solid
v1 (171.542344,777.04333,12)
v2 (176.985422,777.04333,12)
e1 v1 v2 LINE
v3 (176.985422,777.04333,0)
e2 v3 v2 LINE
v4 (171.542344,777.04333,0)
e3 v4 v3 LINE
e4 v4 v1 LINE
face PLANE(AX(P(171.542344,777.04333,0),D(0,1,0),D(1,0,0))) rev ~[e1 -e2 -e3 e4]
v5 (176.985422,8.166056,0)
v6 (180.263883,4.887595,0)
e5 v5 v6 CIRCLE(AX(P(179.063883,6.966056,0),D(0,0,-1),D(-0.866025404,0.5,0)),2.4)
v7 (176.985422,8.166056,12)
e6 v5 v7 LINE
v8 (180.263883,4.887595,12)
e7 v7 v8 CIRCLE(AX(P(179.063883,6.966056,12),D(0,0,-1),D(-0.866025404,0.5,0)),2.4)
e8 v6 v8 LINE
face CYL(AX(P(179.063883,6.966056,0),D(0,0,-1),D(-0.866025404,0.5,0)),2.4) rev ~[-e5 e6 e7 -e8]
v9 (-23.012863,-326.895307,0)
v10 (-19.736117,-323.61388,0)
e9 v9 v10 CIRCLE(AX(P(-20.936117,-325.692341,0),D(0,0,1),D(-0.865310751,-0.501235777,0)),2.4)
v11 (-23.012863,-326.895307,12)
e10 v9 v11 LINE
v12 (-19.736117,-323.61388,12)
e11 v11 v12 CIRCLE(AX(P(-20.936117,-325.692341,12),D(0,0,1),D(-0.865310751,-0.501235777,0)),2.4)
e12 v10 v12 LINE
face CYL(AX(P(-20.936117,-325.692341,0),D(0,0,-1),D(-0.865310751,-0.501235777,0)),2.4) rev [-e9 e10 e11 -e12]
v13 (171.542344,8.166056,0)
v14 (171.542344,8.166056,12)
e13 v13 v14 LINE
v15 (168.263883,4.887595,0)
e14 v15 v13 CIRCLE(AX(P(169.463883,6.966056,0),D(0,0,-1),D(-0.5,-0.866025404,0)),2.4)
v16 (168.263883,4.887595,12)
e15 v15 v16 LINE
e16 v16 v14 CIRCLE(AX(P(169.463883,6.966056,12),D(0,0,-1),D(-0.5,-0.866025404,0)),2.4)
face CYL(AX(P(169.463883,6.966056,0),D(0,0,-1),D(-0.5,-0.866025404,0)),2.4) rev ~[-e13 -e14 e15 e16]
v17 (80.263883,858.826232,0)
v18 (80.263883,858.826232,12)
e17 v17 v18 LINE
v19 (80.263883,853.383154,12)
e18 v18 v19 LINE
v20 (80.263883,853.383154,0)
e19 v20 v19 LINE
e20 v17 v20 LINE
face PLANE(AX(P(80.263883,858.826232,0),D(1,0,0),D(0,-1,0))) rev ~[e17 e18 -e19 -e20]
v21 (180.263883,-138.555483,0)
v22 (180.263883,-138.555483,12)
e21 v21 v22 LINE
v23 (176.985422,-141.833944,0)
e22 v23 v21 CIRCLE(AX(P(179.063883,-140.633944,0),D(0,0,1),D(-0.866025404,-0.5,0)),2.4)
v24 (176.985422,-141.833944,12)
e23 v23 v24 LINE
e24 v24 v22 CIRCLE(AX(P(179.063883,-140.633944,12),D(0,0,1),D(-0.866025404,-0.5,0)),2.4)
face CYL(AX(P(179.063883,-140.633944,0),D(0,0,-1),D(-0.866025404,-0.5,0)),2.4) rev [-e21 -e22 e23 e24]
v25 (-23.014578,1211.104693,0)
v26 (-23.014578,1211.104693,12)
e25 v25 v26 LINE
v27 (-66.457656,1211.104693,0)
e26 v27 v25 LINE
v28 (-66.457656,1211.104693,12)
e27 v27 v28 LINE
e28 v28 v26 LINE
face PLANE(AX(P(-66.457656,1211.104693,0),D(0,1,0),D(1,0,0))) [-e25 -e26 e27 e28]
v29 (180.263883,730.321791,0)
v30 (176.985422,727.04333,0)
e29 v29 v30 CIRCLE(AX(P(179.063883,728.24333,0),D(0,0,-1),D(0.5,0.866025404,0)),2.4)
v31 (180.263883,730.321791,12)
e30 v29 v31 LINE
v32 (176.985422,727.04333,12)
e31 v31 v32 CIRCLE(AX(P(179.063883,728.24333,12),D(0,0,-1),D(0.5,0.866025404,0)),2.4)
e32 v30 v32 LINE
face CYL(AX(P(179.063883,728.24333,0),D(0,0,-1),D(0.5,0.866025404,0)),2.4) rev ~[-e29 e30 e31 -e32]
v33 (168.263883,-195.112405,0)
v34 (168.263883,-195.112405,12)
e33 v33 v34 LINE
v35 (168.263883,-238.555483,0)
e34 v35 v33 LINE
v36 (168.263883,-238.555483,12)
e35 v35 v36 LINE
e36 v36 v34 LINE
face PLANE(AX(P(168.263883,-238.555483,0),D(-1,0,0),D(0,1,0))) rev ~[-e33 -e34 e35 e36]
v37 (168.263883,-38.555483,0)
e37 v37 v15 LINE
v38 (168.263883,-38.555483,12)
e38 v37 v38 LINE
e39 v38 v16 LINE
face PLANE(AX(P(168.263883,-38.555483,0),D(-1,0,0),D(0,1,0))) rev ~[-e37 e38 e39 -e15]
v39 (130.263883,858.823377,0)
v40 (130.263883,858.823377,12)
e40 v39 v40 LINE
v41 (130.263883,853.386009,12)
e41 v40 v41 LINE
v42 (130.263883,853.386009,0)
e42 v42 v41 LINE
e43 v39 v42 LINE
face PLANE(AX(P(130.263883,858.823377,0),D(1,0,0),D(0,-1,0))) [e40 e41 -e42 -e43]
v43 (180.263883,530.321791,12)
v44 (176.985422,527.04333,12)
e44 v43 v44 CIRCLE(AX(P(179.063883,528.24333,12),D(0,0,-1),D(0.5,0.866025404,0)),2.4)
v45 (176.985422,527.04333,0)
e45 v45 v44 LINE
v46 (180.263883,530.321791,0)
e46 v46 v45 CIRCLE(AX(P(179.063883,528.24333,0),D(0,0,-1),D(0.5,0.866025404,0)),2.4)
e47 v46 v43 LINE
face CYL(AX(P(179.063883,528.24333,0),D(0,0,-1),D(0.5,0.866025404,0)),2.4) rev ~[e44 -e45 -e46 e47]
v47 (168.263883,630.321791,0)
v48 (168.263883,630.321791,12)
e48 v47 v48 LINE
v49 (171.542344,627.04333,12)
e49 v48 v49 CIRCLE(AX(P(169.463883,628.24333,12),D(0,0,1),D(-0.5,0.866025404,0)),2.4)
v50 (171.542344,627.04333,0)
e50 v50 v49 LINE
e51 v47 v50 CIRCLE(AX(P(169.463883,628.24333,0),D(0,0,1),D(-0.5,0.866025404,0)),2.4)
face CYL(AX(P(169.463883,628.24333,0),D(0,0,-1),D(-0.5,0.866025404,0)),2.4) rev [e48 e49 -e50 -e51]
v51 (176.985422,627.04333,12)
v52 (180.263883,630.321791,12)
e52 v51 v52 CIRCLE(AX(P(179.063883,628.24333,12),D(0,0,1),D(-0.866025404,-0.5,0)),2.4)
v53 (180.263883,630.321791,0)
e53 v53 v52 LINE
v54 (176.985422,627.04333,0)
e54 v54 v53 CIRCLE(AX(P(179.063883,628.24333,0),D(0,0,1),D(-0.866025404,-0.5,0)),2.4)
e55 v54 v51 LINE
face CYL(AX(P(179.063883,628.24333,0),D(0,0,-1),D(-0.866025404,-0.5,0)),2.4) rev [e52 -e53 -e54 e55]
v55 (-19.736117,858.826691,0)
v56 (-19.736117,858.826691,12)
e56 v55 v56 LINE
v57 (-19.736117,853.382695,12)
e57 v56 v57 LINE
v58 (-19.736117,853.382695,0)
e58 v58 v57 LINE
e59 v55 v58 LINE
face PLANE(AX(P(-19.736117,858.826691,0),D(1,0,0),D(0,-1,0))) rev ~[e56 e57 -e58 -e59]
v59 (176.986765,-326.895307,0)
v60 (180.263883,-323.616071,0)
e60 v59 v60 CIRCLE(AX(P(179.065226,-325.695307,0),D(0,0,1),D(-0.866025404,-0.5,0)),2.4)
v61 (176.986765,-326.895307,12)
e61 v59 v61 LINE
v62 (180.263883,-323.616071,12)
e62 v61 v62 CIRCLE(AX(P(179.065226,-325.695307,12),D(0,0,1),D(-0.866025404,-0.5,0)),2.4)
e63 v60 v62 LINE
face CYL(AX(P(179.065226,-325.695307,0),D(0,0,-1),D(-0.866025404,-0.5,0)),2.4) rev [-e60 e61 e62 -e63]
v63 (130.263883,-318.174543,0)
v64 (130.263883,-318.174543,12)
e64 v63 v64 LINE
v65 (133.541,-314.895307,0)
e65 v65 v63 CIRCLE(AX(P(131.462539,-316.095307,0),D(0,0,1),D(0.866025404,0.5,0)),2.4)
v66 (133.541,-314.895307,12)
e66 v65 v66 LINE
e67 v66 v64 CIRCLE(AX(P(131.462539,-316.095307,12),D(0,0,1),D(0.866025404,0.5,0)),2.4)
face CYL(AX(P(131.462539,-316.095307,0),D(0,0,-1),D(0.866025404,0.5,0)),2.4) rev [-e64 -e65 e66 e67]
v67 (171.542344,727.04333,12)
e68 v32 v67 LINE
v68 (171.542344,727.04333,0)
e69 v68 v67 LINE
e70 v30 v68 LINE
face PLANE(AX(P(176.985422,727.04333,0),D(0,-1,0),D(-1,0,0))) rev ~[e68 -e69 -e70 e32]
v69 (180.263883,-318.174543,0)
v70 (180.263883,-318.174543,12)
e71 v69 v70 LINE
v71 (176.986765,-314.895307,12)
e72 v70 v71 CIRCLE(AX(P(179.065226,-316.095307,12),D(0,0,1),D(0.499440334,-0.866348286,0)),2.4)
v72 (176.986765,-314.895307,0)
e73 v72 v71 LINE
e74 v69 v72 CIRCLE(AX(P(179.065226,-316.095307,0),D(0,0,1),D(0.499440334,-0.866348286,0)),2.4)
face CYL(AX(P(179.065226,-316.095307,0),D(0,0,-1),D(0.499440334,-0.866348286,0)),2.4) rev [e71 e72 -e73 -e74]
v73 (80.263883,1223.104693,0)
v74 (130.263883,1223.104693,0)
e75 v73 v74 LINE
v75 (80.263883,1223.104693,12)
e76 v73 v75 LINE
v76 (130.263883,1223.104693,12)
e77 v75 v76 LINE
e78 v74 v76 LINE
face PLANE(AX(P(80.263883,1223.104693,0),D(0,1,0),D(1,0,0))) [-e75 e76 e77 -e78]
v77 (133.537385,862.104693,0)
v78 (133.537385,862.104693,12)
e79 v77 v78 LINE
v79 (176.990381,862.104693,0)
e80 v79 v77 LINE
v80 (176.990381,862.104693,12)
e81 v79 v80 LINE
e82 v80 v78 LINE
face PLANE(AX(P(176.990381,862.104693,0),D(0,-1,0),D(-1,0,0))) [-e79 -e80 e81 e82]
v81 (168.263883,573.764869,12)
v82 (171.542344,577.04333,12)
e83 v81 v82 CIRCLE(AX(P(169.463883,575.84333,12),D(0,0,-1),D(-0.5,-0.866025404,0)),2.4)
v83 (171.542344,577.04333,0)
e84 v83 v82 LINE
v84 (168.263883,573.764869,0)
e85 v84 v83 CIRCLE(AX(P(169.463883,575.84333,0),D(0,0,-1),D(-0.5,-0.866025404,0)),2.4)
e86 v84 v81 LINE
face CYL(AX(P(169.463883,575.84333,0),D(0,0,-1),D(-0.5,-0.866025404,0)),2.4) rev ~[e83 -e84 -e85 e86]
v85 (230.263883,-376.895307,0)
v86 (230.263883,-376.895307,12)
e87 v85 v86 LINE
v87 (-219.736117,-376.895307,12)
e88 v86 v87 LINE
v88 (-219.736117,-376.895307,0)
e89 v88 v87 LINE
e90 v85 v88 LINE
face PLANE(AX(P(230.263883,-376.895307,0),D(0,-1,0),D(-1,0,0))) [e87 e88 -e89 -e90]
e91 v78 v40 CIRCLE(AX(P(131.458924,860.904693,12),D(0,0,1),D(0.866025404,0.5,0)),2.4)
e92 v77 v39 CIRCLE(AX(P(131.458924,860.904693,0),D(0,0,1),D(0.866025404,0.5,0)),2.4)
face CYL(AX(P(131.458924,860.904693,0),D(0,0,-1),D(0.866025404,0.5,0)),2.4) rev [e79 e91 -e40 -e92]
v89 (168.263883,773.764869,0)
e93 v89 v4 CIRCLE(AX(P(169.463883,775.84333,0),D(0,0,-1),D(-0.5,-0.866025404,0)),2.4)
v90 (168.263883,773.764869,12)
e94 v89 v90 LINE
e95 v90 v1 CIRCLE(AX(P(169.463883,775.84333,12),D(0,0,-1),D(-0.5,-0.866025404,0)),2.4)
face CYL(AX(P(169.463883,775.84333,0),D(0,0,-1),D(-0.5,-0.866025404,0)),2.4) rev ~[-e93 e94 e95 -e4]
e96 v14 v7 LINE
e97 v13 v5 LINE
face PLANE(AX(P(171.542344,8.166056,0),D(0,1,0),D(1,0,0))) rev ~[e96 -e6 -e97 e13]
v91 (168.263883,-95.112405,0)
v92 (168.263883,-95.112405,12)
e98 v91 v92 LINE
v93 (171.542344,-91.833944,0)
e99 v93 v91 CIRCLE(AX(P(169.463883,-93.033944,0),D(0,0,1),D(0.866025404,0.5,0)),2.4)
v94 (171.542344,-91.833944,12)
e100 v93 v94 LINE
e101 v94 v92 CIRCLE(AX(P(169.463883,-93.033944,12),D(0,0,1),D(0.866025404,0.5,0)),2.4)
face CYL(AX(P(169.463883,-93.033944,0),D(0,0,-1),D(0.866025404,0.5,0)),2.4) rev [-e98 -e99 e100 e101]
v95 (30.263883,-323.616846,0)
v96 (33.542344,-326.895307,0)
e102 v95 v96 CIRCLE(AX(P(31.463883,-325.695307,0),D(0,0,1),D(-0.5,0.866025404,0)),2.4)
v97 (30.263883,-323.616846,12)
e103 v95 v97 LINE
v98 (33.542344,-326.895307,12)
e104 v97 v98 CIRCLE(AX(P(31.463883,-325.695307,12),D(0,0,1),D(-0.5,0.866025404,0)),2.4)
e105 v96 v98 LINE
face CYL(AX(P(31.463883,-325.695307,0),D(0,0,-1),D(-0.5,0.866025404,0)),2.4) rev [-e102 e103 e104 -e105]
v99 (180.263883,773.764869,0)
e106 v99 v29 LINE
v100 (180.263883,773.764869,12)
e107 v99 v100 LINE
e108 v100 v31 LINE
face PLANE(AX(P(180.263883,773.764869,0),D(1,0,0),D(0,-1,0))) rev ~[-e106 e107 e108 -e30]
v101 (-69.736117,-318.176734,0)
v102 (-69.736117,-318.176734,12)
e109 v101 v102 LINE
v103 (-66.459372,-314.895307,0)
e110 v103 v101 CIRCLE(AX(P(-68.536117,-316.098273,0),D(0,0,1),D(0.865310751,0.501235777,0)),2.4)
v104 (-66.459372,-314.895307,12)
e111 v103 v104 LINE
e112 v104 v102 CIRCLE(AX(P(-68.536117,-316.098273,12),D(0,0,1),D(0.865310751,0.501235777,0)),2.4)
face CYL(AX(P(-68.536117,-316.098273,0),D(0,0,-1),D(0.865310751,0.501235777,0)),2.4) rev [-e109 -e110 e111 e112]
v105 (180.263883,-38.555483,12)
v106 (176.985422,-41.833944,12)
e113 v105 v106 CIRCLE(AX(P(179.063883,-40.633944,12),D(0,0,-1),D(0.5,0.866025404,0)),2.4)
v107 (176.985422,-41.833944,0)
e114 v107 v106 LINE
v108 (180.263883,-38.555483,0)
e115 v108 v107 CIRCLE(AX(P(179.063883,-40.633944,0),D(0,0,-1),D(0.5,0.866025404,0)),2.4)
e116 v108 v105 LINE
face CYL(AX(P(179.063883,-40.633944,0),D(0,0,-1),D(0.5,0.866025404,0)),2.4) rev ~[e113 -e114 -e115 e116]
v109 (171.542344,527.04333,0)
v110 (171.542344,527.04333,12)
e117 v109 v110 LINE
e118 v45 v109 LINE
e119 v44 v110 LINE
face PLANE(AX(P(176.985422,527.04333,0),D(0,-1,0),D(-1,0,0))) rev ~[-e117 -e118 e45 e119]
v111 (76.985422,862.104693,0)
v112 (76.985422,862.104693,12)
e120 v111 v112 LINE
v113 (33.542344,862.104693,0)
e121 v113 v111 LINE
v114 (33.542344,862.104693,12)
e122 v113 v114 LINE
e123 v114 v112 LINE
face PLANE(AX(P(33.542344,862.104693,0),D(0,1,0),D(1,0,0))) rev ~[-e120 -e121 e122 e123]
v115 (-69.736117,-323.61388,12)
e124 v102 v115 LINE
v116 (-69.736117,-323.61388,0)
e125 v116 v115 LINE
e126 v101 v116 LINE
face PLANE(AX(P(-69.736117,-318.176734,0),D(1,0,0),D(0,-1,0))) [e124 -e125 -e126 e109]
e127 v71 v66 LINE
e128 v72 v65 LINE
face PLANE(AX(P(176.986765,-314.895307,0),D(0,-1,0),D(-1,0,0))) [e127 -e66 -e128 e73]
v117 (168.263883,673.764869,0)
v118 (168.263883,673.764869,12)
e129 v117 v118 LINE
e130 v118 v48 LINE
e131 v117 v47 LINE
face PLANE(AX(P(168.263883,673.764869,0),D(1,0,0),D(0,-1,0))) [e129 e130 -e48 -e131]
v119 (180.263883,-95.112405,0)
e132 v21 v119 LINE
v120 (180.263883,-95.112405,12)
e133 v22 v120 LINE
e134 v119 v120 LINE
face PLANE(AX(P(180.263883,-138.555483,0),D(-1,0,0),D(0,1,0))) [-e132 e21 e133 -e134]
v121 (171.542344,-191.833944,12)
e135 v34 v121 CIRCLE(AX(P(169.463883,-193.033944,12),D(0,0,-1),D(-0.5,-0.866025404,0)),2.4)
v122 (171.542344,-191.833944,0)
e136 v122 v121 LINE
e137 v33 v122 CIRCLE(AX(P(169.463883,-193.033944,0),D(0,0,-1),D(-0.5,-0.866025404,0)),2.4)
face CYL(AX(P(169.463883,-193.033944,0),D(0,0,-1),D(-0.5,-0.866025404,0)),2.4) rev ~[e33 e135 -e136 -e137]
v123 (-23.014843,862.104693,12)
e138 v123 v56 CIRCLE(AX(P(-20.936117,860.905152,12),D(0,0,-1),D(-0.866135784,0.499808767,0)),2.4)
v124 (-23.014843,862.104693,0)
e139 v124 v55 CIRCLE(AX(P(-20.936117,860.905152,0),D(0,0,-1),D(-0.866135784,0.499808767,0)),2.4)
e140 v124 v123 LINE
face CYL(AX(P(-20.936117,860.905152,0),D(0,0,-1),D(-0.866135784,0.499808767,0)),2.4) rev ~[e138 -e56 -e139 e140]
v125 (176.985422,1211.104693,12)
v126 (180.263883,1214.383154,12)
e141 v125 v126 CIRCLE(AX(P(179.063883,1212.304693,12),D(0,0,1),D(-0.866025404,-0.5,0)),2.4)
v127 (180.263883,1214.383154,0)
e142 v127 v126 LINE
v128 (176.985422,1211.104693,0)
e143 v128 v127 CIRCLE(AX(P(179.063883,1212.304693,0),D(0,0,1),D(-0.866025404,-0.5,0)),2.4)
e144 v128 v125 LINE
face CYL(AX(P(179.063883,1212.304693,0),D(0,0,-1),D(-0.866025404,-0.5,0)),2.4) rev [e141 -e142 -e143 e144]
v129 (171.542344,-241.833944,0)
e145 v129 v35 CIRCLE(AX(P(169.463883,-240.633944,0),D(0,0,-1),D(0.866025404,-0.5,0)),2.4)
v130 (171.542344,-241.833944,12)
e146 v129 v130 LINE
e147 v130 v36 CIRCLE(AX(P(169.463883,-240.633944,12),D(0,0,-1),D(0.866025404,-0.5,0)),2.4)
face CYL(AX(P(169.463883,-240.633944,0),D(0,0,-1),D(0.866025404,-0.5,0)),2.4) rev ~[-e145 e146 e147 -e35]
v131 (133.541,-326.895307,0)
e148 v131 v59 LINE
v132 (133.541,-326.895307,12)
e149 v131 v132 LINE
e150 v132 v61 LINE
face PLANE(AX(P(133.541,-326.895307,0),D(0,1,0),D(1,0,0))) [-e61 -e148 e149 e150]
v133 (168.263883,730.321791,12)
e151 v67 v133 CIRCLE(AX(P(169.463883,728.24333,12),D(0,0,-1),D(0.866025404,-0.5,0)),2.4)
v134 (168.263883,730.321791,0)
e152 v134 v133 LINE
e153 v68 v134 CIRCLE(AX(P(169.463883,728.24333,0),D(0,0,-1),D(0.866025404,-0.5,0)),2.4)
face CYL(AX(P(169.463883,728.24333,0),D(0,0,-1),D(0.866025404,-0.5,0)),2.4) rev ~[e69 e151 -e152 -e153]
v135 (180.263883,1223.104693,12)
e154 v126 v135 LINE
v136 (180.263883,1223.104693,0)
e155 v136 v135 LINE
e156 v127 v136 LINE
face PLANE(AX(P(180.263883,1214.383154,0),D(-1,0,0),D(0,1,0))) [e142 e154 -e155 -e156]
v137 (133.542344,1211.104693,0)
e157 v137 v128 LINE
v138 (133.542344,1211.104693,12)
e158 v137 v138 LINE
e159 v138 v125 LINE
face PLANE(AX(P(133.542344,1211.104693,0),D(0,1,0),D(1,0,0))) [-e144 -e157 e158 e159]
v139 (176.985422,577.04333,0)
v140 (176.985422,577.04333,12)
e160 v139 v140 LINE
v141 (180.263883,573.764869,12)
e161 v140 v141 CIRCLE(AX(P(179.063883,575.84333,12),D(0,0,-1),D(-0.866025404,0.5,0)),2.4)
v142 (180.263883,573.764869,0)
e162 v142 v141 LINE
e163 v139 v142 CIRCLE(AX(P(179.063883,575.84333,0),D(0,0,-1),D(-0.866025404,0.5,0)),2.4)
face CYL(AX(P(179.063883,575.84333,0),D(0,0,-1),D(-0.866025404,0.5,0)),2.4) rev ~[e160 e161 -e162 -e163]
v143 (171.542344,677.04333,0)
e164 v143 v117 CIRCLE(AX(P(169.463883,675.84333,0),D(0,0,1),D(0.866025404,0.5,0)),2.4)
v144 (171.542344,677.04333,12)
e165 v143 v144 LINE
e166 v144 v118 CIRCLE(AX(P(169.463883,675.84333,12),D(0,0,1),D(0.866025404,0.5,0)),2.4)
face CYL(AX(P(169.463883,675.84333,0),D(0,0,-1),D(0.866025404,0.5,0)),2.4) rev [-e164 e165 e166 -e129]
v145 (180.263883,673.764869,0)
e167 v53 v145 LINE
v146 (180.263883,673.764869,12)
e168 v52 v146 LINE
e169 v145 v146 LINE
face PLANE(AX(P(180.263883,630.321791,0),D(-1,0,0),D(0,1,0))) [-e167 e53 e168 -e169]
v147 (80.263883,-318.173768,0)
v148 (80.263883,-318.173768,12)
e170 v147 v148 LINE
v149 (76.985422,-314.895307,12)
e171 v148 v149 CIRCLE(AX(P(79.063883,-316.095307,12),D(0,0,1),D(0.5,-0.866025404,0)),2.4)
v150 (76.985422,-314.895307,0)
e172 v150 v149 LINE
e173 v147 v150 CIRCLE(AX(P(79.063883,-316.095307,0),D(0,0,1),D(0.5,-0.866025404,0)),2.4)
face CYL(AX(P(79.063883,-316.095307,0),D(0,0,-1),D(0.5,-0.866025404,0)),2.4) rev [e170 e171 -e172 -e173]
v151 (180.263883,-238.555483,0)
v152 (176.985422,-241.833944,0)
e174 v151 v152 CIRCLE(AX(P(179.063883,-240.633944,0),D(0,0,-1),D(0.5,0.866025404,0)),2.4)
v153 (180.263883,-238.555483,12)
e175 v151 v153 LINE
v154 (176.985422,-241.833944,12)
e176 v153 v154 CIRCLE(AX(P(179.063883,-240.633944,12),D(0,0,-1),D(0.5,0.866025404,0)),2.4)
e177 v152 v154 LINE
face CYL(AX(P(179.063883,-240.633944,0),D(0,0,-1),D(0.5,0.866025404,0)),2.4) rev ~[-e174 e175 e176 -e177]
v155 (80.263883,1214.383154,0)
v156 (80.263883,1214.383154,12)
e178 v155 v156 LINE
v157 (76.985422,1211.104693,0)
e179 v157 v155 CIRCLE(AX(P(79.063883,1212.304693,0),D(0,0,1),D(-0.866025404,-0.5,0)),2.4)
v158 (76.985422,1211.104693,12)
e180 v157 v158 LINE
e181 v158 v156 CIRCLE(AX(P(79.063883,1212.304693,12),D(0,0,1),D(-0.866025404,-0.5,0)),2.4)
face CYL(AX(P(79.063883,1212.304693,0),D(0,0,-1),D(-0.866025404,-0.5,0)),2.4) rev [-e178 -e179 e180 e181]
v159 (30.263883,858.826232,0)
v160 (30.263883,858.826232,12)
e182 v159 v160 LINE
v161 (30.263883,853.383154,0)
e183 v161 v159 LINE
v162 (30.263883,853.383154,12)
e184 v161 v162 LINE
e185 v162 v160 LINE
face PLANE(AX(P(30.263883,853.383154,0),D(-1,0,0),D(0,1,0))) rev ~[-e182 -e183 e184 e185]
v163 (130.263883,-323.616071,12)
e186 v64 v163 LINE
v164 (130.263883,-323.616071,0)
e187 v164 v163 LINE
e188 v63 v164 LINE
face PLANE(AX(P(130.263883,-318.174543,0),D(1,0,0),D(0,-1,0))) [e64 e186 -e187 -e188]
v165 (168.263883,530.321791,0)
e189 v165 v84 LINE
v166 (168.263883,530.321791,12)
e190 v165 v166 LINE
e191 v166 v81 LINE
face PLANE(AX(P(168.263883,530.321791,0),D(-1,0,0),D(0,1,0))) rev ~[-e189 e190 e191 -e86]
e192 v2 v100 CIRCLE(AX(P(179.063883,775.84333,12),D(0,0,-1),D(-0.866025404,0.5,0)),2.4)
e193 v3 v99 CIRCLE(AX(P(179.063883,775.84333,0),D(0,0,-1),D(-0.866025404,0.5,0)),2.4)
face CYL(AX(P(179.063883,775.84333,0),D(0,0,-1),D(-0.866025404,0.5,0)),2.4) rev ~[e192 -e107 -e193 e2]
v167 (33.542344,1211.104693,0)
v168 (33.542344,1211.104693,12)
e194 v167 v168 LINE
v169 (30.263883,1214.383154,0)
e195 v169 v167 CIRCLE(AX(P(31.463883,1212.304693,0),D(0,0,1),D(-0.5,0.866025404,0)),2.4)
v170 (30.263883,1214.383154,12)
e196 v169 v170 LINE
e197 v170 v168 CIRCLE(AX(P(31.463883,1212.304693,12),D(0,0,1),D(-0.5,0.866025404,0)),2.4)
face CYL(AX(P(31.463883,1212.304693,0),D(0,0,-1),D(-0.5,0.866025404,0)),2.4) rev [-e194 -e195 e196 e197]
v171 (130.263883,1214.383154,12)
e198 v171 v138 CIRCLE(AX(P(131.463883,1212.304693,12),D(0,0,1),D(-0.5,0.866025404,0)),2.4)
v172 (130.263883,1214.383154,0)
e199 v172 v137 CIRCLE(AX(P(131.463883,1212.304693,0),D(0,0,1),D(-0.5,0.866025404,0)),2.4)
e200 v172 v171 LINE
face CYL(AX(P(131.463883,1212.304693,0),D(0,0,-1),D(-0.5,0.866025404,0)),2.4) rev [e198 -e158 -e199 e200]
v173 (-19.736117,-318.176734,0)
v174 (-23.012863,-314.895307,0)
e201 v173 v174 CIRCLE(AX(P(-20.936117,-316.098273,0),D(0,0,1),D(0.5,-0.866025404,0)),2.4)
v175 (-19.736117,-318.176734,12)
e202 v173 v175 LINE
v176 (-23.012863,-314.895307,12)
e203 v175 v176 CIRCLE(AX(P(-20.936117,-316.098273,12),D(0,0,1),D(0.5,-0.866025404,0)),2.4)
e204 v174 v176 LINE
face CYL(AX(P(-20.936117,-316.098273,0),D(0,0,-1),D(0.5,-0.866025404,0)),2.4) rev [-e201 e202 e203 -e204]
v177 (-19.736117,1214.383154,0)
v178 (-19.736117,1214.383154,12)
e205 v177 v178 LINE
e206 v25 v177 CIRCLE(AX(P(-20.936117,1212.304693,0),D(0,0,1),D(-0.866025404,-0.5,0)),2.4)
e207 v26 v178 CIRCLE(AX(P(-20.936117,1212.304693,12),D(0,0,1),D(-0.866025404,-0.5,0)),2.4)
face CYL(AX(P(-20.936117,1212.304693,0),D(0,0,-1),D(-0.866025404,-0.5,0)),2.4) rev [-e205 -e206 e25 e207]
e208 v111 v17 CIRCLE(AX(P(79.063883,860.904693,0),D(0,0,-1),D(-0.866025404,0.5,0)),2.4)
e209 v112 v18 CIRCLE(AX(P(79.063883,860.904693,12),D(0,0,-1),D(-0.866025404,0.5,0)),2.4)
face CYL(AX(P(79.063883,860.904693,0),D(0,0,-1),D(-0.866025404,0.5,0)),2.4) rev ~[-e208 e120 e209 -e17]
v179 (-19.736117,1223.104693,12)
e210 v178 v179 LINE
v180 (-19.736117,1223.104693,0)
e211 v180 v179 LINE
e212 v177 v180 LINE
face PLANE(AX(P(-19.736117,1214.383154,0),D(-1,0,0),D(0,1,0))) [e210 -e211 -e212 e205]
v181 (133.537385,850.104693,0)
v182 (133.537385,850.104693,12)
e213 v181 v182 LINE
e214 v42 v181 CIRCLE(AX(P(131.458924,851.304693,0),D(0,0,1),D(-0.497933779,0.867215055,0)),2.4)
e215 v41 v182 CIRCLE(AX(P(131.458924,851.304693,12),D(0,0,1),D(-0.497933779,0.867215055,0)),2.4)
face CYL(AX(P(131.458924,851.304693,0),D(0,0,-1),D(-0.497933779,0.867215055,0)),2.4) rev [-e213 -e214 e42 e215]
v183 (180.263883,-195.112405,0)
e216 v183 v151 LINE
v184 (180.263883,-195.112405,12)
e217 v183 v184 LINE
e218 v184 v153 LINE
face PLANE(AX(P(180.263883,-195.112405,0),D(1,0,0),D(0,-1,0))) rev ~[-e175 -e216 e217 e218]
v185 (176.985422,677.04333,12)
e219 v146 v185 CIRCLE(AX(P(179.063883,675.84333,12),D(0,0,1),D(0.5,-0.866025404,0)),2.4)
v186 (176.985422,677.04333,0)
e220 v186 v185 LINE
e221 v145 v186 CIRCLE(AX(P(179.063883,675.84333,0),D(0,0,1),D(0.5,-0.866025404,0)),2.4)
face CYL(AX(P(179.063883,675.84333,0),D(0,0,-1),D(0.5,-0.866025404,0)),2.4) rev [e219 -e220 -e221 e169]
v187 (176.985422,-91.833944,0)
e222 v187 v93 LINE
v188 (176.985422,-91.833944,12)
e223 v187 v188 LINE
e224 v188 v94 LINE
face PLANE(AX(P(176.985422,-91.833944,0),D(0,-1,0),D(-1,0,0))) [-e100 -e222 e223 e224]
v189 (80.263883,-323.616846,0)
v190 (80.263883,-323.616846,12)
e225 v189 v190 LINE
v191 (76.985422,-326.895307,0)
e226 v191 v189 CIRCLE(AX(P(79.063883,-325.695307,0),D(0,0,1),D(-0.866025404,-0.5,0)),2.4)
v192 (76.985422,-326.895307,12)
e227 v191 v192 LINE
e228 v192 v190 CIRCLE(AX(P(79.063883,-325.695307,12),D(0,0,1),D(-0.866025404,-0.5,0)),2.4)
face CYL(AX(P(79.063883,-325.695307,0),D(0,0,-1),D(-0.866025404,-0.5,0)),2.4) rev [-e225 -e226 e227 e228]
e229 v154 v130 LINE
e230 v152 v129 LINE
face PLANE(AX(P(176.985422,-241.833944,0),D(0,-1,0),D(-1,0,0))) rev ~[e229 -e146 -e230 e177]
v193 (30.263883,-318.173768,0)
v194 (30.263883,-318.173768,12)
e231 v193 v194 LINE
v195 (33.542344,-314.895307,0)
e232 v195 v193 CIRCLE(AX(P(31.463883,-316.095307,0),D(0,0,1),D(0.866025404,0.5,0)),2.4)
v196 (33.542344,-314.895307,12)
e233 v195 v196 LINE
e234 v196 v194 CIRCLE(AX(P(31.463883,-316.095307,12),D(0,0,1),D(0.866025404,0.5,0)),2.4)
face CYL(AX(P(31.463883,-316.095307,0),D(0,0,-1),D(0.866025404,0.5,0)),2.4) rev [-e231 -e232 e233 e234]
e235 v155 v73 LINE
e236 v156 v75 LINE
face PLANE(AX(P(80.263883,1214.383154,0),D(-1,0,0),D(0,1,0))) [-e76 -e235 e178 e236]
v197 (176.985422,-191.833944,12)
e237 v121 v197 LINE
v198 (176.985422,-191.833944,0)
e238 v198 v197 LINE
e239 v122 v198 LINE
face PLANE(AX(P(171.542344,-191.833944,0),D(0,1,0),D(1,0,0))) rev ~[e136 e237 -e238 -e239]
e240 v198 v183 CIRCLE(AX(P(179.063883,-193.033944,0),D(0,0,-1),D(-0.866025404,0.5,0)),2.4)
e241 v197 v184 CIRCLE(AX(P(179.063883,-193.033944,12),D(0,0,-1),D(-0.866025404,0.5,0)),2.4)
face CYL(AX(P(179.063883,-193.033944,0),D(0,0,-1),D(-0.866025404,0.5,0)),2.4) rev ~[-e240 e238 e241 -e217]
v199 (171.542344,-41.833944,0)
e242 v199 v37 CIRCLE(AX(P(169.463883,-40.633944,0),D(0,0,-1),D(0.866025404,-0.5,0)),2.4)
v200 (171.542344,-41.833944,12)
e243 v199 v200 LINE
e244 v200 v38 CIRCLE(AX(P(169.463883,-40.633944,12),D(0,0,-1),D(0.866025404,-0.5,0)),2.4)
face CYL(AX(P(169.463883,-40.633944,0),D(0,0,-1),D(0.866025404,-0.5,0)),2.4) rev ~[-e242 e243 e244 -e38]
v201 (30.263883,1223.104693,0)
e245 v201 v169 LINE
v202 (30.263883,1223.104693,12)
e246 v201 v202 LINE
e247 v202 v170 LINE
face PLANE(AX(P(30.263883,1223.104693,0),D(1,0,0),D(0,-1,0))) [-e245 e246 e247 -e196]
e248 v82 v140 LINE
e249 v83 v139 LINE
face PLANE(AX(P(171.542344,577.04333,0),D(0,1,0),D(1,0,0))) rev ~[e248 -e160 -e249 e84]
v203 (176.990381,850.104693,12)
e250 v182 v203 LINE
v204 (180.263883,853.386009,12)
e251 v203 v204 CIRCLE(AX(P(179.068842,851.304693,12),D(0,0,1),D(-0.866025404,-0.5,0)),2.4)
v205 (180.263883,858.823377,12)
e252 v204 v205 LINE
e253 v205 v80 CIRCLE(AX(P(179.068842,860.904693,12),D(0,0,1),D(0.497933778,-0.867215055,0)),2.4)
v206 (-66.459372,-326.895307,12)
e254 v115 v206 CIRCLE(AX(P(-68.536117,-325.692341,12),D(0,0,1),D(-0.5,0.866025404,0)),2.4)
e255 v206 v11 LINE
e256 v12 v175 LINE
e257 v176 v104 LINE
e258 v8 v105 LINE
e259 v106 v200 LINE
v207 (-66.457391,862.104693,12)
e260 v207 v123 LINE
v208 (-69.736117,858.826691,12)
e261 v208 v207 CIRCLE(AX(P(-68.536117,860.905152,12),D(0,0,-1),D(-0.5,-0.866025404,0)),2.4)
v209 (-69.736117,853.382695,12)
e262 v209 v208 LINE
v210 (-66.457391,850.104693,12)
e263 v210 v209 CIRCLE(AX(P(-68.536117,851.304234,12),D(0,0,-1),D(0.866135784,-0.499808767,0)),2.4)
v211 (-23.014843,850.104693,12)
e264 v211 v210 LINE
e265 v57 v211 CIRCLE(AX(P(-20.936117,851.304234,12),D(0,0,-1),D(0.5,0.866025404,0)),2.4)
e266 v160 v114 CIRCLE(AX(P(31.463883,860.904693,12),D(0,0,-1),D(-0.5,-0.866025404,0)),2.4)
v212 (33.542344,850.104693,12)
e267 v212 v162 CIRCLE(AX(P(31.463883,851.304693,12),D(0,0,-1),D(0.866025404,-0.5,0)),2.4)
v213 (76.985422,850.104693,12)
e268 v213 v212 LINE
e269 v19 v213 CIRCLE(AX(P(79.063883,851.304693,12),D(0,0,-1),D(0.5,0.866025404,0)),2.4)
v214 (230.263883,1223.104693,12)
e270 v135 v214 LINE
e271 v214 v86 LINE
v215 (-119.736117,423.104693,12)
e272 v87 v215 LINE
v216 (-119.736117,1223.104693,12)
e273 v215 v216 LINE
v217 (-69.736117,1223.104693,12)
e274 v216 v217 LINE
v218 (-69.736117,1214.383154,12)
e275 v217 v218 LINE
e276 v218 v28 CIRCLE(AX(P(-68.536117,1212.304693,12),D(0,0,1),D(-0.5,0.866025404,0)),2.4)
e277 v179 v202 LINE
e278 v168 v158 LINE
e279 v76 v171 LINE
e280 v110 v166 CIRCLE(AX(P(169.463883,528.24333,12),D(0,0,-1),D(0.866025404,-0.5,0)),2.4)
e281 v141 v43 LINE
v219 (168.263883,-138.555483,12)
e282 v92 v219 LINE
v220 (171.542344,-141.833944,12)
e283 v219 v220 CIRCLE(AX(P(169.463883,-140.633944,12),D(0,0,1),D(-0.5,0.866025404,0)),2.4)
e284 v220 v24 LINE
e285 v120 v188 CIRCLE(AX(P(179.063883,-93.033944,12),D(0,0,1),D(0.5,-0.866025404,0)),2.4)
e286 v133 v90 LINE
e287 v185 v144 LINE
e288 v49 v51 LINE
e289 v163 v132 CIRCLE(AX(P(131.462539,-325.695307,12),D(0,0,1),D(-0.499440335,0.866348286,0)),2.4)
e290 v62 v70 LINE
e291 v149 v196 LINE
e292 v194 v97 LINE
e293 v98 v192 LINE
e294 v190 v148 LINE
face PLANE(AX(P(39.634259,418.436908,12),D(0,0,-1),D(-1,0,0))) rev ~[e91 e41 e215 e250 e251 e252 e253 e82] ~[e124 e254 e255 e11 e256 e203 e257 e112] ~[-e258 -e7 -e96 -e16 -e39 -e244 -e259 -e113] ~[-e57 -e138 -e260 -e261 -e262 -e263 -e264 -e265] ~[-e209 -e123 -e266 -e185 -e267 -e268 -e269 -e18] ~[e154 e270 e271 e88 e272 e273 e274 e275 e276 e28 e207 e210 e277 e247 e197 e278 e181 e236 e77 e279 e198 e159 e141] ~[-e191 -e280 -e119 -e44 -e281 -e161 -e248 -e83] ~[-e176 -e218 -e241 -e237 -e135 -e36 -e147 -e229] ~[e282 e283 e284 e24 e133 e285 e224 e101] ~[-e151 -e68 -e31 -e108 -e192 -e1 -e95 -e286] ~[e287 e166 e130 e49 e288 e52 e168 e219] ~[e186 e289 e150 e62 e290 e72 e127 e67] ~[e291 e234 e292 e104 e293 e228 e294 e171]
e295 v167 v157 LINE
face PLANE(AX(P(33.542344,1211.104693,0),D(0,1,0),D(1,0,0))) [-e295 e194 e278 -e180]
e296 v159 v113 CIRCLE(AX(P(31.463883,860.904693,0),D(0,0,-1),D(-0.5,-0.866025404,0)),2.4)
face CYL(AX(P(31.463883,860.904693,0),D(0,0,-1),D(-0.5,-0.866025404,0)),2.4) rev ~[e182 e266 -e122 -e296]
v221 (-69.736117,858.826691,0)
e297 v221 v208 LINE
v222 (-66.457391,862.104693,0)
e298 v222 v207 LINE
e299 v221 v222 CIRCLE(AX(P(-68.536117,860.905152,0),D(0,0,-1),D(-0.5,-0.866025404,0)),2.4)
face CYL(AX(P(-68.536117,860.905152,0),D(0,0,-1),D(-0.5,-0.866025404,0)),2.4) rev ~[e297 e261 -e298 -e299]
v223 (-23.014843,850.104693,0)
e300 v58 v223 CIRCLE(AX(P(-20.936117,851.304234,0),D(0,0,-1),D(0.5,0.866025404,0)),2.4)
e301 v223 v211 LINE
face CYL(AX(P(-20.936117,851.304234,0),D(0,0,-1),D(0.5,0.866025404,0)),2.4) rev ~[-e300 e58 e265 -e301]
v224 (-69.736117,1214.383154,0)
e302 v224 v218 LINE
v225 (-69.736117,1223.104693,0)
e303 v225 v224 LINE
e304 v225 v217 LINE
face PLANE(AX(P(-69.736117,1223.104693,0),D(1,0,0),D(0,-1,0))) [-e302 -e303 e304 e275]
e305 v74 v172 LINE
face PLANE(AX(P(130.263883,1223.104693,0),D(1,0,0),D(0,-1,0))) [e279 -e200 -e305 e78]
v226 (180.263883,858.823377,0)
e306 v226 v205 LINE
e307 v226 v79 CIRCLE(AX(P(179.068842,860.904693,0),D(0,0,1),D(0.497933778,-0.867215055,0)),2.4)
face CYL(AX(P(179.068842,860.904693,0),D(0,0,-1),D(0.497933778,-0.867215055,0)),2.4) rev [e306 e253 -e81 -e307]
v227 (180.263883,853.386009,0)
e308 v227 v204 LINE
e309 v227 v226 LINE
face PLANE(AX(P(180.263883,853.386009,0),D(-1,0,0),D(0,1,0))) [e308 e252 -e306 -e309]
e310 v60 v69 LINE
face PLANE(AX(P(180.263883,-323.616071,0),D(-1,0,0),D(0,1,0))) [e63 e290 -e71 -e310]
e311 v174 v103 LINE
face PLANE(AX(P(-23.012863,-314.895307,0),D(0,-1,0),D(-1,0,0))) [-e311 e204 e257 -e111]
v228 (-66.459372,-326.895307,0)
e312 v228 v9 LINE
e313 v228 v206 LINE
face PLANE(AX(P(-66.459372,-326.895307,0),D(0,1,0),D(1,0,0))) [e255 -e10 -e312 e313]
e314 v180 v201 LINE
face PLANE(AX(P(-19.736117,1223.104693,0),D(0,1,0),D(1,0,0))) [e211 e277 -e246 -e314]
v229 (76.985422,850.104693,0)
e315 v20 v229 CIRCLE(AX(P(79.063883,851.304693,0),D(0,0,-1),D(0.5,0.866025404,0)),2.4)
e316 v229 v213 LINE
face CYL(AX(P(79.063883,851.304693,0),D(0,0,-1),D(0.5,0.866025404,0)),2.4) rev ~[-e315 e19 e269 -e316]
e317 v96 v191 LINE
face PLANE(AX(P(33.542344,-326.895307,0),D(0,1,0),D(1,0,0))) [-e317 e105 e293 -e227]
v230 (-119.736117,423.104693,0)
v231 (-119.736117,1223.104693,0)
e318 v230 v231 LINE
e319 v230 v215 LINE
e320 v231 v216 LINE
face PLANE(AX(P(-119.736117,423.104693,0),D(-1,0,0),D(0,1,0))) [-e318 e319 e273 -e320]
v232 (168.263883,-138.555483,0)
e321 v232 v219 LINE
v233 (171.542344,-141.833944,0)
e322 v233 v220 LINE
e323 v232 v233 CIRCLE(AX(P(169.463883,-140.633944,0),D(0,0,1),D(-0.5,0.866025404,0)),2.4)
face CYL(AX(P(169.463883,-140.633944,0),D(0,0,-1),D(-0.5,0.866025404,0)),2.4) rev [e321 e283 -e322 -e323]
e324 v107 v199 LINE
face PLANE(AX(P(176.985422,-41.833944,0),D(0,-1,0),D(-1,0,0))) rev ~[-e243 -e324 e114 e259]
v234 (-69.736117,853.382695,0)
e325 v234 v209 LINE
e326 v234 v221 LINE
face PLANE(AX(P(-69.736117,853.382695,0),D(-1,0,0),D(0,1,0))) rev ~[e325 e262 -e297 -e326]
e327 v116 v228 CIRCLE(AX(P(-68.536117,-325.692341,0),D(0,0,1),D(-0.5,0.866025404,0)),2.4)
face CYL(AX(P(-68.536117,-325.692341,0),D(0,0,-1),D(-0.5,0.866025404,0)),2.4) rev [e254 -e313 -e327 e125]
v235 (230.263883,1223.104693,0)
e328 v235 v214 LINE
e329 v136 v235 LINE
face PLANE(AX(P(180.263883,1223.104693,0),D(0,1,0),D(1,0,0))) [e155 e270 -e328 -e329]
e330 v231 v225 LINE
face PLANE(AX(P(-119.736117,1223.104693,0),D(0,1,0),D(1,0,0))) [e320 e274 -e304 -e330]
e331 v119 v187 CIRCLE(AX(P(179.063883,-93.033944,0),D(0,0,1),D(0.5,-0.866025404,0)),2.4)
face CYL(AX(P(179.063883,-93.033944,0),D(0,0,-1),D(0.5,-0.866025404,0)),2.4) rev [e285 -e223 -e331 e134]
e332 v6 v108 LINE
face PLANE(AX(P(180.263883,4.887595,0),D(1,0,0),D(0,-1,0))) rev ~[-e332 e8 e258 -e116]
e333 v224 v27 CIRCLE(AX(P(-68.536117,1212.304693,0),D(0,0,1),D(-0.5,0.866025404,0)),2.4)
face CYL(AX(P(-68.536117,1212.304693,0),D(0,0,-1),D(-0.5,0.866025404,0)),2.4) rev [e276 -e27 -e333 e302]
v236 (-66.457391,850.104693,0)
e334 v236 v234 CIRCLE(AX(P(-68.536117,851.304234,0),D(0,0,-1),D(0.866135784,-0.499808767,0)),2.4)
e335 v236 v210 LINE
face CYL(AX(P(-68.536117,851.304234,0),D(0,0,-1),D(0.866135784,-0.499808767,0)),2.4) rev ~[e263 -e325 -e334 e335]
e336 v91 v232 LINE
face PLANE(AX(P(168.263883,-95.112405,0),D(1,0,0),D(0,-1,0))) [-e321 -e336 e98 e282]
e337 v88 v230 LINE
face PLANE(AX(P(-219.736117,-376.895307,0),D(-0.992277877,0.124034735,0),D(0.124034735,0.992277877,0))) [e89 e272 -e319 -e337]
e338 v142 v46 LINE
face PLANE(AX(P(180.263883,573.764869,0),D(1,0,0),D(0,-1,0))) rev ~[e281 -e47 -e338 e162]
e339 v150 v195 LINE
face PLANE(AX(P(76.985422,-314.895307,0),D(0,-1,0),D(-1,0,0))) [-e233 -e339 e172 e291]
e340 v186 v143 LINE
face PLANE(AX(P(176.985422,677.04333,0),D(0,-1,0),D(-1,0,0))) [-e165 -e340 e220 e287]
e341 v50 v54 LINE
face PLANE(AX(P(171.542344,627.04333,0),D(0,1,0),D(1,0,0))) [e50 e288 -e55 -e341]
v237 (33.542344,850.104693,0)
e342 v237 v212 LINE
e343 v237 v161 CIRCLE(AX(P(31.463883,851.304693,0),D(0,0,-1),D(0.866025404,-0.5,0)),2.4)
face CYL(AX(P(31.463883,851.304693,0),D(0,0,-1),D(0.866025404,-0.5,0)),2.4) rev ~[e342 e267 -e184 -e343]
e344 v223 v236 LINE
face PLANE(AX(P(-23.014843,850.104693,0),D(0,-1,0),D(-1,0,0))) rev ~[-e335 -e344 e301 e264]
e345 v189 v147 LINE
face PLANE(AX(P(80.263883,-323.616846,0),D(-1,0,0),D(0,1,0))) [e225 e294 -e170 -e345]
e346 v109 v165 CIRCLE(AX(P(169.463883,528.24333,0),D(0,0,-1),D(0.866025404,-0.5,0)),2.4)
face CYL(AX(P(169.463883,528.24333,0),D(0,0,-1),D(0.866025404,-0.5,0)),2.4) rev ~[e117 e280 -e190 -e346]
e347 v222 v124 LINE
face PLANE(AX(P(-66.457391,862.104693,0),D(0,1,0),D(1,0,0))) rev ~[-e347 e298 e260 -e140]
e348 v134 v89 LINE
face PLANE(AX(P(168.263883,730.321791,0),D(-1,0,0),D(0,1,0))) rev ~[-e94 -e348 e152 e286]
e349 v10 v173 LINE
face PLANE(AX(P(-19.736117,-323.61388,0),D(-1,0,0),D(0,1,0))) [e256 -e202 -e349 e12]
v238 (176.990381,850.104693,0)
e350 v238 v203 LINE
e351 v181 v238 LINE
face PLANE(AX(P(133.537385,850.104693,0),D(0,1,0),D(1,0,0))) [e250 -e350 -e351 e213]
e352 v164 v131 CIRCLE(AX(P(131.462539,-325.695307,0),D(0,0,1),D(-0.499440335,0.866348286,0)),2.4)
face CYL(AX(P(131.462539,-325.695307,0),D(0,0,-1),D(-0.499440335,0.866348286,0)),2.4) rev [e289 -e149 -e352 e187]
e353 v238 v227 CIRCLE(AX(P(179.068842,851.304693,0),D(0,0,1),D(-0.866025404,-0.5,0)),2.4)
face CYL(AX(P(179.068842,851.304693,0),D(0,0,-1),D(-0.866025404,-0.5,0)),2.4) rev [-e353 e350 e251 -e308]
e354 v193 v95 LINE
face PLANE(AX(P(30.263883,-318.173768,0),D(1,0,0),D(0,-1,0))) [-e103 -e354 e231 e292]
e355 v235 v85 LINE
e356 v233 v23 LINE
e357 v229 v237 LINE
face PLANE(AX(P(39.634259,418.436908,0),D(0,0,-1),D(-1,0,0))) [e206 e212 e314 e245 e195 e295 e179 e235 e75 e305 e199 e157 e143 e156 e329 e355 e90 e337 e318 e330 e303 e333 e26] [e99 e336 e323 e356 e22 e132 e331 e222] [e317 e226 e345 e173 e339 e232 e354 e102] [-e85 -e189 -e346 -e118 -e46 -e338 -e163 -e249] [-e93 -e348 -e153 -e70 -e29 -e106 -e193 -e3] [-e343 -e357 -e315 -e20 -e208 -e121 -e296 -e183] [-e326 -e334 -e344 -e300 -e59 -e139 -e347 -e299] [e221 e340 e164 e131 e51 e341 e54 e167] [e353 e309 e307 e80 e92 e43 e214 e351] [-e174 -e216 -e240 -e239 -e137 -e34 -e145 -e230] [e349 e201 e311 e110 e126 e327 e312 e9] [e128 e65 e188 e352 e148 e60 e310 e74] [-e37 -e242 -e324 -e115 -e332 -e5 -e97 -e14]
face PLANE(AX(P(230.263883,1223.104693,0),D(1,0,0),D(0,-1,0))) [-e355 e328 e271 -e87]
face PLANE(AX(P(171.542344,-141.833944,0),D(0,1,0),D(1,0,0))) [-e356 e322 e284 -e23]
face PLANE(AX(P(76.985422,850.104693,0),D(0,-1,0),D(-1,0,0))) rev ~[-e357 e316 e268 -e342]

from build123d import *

# Parameters (mm, degrees)
BOSS_EXTRUDE1_DEPTH = 12


with BuildPart() as part:
    # Sketch1 → Boss-Extrude1 (new body)
    with BuildSketch(Plane.XY):
        with BuildLine():
            Line((230.263882669, 423.104693141), (230.263882669, -376.895306859))
            Line((230.263882669, -376.895306859), (-219.736117331, -376.895306859))
            Line((-219.736117331, -376.895306859), (-119.736117331, 423.104693141))
            Line((-119.736117331, 423.104693141), (-119.736117331, 1223.104693141))
            Line((-119.736117331, 1223.104693141), (-69.736117331, 1223.104693141))
            Line((-69.736117331, 1223.104693141), (-69.736117331, 1218.104693141))
            Line((-69.736117331, 1218.104693141), (-69.736117331, 1214.38315411))
            ThreePointArc((-69.736117331, 1214.38315411), (-70.233173605, 1210.607636866), (-66.457656361, 1211.104693141))
            Line((-66.457656361, 1211.104693141), (-23.0145783, 1211.104693141))
            ThreePointArc((-23.0145783, 1211.104693141), (-19.239061056, 1210.607636866), (-19.736117331, 1214.38315411))
            Line((-19.736117331, 1214.38315411), (-19.736117331, 1218.104693141))
            Line((-19.736117331, 1218.104693141), (-19.736117331, 1223.104693141))
            Line((-19.736117331, 1223.104693141), (30.263882669, 1223.104693141))
            Line((30.263882669, 1223.104693141), (30.263882669, 1218.104693141))
            Line((30.263882669, 1218.104693141), (30.263882669, 1214.38315411))
            ThreePointArc((30.263882669, 1214.38315411), (29.766826395, 1210.607636866), (33.542343639, 1211.104693141))
            Line((33.542343639, 1211.104693141), (76.9854217, 1211.104693141))
            ThreePointArc((76.9854217, 1211.104693141), (80.760938944, 1210.607636866), (80.263882669, 1214.38315411))
            Line((80.263882669, 1214.38315411), (80.263882669, 1218.104693141))
            Line((80.263882669, 1218.104693141), (80.263882669, 1223.104693141))
            Line((80.263882669, 1223.104693141), (130.263882669, 1223.104693141))
            Line((130.263882669, 1223.104693141), (130.263882669, 1218.104693141))
            Line((130.263882669, 1218.104693141), (130.263882669, 1214.38315411))
            ThreePointArc((130.263882669, 1214.38315411), (129.766826395, 1210.607636866), (133.542343639, 1211.104693141))
            Line((133.542343639, 1211.104693141), (176.9854217, 1211.104693141))
            ThreePointArc((176.9854217, 1211.104693141), (180.760938944, 1210.607636866), (180.263882669, 1214.38315411))
            Line((180.263882669, 1214.38315411), (180.263882669, 1223.104693141))
            Line((180.263882669, 1223.104693141), (230.263882669, 1223.104693141))
            Line((230.263882669, 1223.104693141), (230.263882669, 423.104693141))
        make_face()
        with BuildLine():
            Line((-66.457391449, 862.104693141), (-23.014843212, 862.104693141))
            ThreePointArc((-23.014843212, 862.104693141), (-19.239248423, 862.602395721), (-19.736117331, 858.82669113))
            Line((-19.736117331, 858.82669113), (-19.736117331, 853.382695152))
            ThreePointArc((-19.736117331, 853.382695152), (-19.239248423, 849.606990561), (-23.014843212, 850.104693141))
            Line((-23.014843212, 850.104693141), (-66.457391449, 850.104693141))
            ThreePointArc((-66.457391449, 850.104693141), (-70.232986238, 849.606990561), (-69.736117331, 853.382695152))
            Line((-69.736117331, 853.382695152), (-69.736117331, 858.82669113))
            ThreePointArc((-69.736117331, 858.82669113), (-70.232986238, 862.602395721), (-66.457391449, 862.104693141))
        make_face(mode=Mode.SUBTRACT)
        with BuildLine():
            Line((33.542343639, 862.104693141), (76.9854217, 862.104693141))
            ThreePointArc((76.9854217, 862.104693141), (80.760938944, 862.601749416), (80.263882669, 858.826232172))
            Line((80.263882669, 858.826232172), (80.263882669, 853.38315411))
            ThreePointArc((80.263882669, 853.38315411), (80.760938944, 849.607636866), (76.9854217, 850.104693141))
            Line((76.9854217, 850.104693141), (33.542343639, 850.104693141))
            ThreePointArc((33.542343639, 850.104693141), (29.766826395, 849.607636866), (30.263882669, 853.38315411))
            Line((30.263882669, 853.38315411), (30.263882669, 858.826232172))
            ThreePointArc((30.263882669, 858.826232172), (29.766826395, 862.601749416), (33.542343639, 862.104693141))
        make_face(mode=Mode.SUBTRACT)
        with BuildLine():
            Line((130.263882669, 858.823377008), (130.263882669, 853.386009273))
            ThreePointArc((130.263882669, 853.386009273), (129.759845585, 849.609661156), (133.537384707, 850.104693141))
            Line((133.537384707, 850.104693141), (176.990380631, 850.104693141))
            ThreePointArc((176.990380631, 850.104693141), (180.767919754, 849.609661156), (180.263882669, 853.386009273))
            Line((180.263882669, 853.386009273), (180.263882669, 858.823377008))
            ThreePointArc((180.263882669, 858.823377008), (180.767919754, 862.599725126), (176.990380631, 862.104693141))
            Line((176.990380631, 862.104693141), (133.537384707, 862.104693141))
            ThreePointArc((133.537384707, 862.104693141), (129.759845585, 862.599725126), (130.263882669, 858.823377008))
        make_face(mode=Mode.SUBTRACT)
        with BuildLine():
            Line((-66.459371529, -326.895306859), (-23.012863132, -326.895306859))
            ThreePointArc((-23.012863132, -326.895306859), (-19.237850179, -327.388185527), (-19.736117331, -323.613880024))
            Line((-19.736117331, -323.613880024), (-19.736117331, -318.176733694))
            ThreePointArc((-19.736117331, -318.176733694), (-19.237850179, -314.402428191), (-23.012863132, -314.895306859))
            Line((-23.012863132, -314.895306859), (-66.459371529, -314.895306859))
            ThreePointArc((-66.459371529, -314.895306859), (-70.234384482, -314.402428191), (-69.736117331, -318.176733694))
            Line((-69.736117331, -318.176733694), (-69.736117331, -323.613880024))
            ThreePointArc((-69.736117331, -323.613880024), (-70.234384482, -327.388185527), (-66.459371529, -326.895306859))
        make_face(mode=Mode.SUBTRACT)
        with BuildLine():
            Line((33.542343639, -326.895306859), (76.9854217, -326.895306859))
            ThreePointArc((76.9854217, -326.895306859), (80.760938944, -327.392363134), (80.263882669, -323.61684589))
            Line((80.263882669, -323.61684589), (80.263882669, -318.173767828))
            ThreePointArc((80.263882669, -318.173767828), (80.760938944, -314.398250584), (76.9854217, -314.895306859))
            Line((76.9854217, -314.895306859), (33.542343639, -314.895306859))
            ThreePointArc((33.542343639, -314.895306859), (29.766826395, -314.398250584), (30.263882669, -318.173767828))
            Line((30.263882669, -318.173767828), (30.263882669, -323.61684589))
            ThreePointArc((30.263882669, -323.61684589), (29.766826395, -327.392363134), (33.542343639, -326.895306859))
        make_face(mode=Mode.SUBTRACT)
        with BuildLine():
            Line((133.541000442, -326.895306859), (176.986764897, -326.895306859))
            ThreePointArc((176.986764897, -326.895306859), (180.762830308, -327.39181479), (180.263882669, -323.616070974))
            Line((180.263882669, -323.616070974), (180.263882669, -318.174542745))
            ThreePointArc((180.263882669, -318.174542745), (180.762830308, -314.398798928), (176.986764897, -314.895306859))
            Line((176.986764897, -314.895306859), (133.541000442, -314.895306859))
            ThreePointArc((133.541000442, -314.895306859), (129.764935031, -314.398798928), (130.263882669, -318.174542745))
            Line((130.263882669, -318.174542745), (130.263882669, -323.616070974))
            ThreePointArc((130.263882669, -323.616070974), (129.764935031, -327.39181479), (133.541000442, -326.895306859))
        make_face(mode=Mode.SUBTRACT)
        with BuildLine():
            Line((171.542343639, 8.166055965), (176.9854217, 8.166055965))
            ThreePointArc((176.9854217, 8.166055965), (180.760938944, 8.66311224), (180.263882669, 4.887594996))
            Line((180.263882669, 4.887594996), (180.263882669, -38.555483066))
            ThreePointArc((180.263882669, -38.555483066), (180.760938944, -42.33100031), (176.9854217, -41.833944035))
            Line((176.9854217, -41.833944035), (171.542343639, -41.833944035))
            ThreePointArc((171.542343639, -41.833944035), (167.766826395, -42.33100031), (168.263882669, -38.555483066))
            Line((168.263882669, -38.555483066), (168.263882669, 4.887594996))
            ThreePointArc((168.263882669, 4.887594996), (167.766826395, 8.66311224), (171.542343639, 8.166055965))
        make_face(mode=Mode.SUBTRACT)
        with BuildLine():
            Line((168.263882669, -95.112405004), (168.263882669, -138.555483066))
            ThreePointArc((168.263882669, -138.555483066), (167.766826395, -142.33100031), (171.542343639, -141.833944035))
            Line((171.542343639, -141.833944035), (176.9854217, -141.833944035))
            ThreePointArc((176.9854217, -141.833944035), (180.760938944, -142.33100031), (180.263882669, -138.555483066))
            Line((180.263882669, -138.555483066), (180.263882669, -95.112405004))
            ThreePointArc((180.263882669, -95.112405004), (180.760938944, -91.33688776), (176.9854217, -91.833944035))
            Line((176.9854217, -91.833944035), (171.542343639, -91.833944035))
            ThreePointArc((171.542343639, -91.833944035), (167.766826395, -91.33688776), (168.263882669, -95.112405004))
        make_face(mode=Mode.SUBTRACT)
        with BuildLine():
            Line((171.542343639, -191.833944035), (176.9854217, -191.833944035))
            ThreePointArc((176.9854217, -191.833944035), (180.760938944, -191.33688776), (180.263882669, -195.112405004))
            Line((180.263882669, -195.112405004), (180.263882669, -238.555483066))
            ThreePointArc((180.263882669, -238.555483066), (180.760938944, -242.33100031), (176.9854217, -241.833944035))
            Line((176.9854217, -241.833944035), (171.542343639, -241.833944035))
            ThreePointArc((171.542343639, -241.833944035), (167.766826395, -242.33100031), (168.263882669, -238.555483066))
            Line((168.263882669, -238.555483066), (168.263882669, -195.112405004))
            ThreePointArc((168.263882669, -195.112405004), (167.766826395, -191.33688776), (171.542343639, -191.833944035))
        make_face(mode=Mode.SUBTRACT)
        with BuildLine():
            Line((168.263882669, 730.321791286), (168.263882669, 773.764869348))
            ThreePointArc((168.263882669, 773.764869348), (167.766826395, 777.540386592), (171.542343639, 777.043330317))
            Line((171.542343639, 777.043330317), (176.9854217, 777.043330317))
            ThreePointArc((176.9854217, 777.043330317), (180.760938944, 777.540386592), (180.263882669, 773.764869348))
            Line((180.263882669, 773.764869348), (180.263882669, 730.321791286))
            ThreePointArc((180.263882669, 730.321791286), (180.760938944, 726.546274042), (176.9854217, 727.043330317))
            Line((176.9854217, 727.043330317), (171.542343639, 727.043330317))
            ThreePointArc((171.542343639, 727.043330317), (167.766826395, 726.546274042), (168.263882669, 730.321791286))
        make_face(mode=Mode.SUBTRACT)
        with BuildLine():
            Line((171.542343639, 627.043330317), (176.9854217, 627.043330317))
            ThreePointArc((176.9854217, 627.043330317), (180.760938944, 626.546274042), (180.263882669, 630.321791286))
            Line((180.263882669, 630.321791286), (180.263882669, 673.764869348))
            ThreePointArc((180.263882669, 673.764869348), (180.760938944, 677.540386592), (176.9854217, 677.043330317))
            Line((176.9854217, 677.043330317), (171.542343639, 677.043330317))
            ThreePointArc((171.542343639, 677.043330317), (167.766826395, 677.540386592), (168.263882669, 673.764869348))
            Line((168.263882669, 673.764869348), (168.263882669, 630.321791286))
            ThreePointArc((168.263882669, 630.321791286), (167.766826395, 626.546274042), (171.542343639, 627.043330317))
        make_face(mode=Mode.SUBTRACT)
        with BuildLine():
            Line((168.263882669, 530.321791286), (168.263882669, 573.764869348))
            ThreePointArc((168.263882669, 573.764869348), (167.766826395, 577.540386592), (171.542343639, 577.043330317))
            Line((171.542343639, 577.043330317), (176.9854217, 577.043330317))
            ThreePointArc((176.9854217, 577.043330317), (180.760938944, 577.540386592), (180.263882669, 573.764869348))
            Line((180.263882669, 573.764869348), (180.263882669, 530.321791286))
            ThreePointArc((180.263882669, 530.321791286), (180.760938944, 526.546274042), (176.9854217, 527.043330317))
            Line((176.9854217, 527.043330317), (171.542343639, 527.043330317))
            ThreePointArc((171.542343639, 527.043330317), (167.766826395, 526.546274042), (168.263882669, 530.321791286))
        make_face(mode=Mode.SUBTRACT)
    extrude(amount=BOSS_EXTRUDE1_DEPTH)


solid = part.part
